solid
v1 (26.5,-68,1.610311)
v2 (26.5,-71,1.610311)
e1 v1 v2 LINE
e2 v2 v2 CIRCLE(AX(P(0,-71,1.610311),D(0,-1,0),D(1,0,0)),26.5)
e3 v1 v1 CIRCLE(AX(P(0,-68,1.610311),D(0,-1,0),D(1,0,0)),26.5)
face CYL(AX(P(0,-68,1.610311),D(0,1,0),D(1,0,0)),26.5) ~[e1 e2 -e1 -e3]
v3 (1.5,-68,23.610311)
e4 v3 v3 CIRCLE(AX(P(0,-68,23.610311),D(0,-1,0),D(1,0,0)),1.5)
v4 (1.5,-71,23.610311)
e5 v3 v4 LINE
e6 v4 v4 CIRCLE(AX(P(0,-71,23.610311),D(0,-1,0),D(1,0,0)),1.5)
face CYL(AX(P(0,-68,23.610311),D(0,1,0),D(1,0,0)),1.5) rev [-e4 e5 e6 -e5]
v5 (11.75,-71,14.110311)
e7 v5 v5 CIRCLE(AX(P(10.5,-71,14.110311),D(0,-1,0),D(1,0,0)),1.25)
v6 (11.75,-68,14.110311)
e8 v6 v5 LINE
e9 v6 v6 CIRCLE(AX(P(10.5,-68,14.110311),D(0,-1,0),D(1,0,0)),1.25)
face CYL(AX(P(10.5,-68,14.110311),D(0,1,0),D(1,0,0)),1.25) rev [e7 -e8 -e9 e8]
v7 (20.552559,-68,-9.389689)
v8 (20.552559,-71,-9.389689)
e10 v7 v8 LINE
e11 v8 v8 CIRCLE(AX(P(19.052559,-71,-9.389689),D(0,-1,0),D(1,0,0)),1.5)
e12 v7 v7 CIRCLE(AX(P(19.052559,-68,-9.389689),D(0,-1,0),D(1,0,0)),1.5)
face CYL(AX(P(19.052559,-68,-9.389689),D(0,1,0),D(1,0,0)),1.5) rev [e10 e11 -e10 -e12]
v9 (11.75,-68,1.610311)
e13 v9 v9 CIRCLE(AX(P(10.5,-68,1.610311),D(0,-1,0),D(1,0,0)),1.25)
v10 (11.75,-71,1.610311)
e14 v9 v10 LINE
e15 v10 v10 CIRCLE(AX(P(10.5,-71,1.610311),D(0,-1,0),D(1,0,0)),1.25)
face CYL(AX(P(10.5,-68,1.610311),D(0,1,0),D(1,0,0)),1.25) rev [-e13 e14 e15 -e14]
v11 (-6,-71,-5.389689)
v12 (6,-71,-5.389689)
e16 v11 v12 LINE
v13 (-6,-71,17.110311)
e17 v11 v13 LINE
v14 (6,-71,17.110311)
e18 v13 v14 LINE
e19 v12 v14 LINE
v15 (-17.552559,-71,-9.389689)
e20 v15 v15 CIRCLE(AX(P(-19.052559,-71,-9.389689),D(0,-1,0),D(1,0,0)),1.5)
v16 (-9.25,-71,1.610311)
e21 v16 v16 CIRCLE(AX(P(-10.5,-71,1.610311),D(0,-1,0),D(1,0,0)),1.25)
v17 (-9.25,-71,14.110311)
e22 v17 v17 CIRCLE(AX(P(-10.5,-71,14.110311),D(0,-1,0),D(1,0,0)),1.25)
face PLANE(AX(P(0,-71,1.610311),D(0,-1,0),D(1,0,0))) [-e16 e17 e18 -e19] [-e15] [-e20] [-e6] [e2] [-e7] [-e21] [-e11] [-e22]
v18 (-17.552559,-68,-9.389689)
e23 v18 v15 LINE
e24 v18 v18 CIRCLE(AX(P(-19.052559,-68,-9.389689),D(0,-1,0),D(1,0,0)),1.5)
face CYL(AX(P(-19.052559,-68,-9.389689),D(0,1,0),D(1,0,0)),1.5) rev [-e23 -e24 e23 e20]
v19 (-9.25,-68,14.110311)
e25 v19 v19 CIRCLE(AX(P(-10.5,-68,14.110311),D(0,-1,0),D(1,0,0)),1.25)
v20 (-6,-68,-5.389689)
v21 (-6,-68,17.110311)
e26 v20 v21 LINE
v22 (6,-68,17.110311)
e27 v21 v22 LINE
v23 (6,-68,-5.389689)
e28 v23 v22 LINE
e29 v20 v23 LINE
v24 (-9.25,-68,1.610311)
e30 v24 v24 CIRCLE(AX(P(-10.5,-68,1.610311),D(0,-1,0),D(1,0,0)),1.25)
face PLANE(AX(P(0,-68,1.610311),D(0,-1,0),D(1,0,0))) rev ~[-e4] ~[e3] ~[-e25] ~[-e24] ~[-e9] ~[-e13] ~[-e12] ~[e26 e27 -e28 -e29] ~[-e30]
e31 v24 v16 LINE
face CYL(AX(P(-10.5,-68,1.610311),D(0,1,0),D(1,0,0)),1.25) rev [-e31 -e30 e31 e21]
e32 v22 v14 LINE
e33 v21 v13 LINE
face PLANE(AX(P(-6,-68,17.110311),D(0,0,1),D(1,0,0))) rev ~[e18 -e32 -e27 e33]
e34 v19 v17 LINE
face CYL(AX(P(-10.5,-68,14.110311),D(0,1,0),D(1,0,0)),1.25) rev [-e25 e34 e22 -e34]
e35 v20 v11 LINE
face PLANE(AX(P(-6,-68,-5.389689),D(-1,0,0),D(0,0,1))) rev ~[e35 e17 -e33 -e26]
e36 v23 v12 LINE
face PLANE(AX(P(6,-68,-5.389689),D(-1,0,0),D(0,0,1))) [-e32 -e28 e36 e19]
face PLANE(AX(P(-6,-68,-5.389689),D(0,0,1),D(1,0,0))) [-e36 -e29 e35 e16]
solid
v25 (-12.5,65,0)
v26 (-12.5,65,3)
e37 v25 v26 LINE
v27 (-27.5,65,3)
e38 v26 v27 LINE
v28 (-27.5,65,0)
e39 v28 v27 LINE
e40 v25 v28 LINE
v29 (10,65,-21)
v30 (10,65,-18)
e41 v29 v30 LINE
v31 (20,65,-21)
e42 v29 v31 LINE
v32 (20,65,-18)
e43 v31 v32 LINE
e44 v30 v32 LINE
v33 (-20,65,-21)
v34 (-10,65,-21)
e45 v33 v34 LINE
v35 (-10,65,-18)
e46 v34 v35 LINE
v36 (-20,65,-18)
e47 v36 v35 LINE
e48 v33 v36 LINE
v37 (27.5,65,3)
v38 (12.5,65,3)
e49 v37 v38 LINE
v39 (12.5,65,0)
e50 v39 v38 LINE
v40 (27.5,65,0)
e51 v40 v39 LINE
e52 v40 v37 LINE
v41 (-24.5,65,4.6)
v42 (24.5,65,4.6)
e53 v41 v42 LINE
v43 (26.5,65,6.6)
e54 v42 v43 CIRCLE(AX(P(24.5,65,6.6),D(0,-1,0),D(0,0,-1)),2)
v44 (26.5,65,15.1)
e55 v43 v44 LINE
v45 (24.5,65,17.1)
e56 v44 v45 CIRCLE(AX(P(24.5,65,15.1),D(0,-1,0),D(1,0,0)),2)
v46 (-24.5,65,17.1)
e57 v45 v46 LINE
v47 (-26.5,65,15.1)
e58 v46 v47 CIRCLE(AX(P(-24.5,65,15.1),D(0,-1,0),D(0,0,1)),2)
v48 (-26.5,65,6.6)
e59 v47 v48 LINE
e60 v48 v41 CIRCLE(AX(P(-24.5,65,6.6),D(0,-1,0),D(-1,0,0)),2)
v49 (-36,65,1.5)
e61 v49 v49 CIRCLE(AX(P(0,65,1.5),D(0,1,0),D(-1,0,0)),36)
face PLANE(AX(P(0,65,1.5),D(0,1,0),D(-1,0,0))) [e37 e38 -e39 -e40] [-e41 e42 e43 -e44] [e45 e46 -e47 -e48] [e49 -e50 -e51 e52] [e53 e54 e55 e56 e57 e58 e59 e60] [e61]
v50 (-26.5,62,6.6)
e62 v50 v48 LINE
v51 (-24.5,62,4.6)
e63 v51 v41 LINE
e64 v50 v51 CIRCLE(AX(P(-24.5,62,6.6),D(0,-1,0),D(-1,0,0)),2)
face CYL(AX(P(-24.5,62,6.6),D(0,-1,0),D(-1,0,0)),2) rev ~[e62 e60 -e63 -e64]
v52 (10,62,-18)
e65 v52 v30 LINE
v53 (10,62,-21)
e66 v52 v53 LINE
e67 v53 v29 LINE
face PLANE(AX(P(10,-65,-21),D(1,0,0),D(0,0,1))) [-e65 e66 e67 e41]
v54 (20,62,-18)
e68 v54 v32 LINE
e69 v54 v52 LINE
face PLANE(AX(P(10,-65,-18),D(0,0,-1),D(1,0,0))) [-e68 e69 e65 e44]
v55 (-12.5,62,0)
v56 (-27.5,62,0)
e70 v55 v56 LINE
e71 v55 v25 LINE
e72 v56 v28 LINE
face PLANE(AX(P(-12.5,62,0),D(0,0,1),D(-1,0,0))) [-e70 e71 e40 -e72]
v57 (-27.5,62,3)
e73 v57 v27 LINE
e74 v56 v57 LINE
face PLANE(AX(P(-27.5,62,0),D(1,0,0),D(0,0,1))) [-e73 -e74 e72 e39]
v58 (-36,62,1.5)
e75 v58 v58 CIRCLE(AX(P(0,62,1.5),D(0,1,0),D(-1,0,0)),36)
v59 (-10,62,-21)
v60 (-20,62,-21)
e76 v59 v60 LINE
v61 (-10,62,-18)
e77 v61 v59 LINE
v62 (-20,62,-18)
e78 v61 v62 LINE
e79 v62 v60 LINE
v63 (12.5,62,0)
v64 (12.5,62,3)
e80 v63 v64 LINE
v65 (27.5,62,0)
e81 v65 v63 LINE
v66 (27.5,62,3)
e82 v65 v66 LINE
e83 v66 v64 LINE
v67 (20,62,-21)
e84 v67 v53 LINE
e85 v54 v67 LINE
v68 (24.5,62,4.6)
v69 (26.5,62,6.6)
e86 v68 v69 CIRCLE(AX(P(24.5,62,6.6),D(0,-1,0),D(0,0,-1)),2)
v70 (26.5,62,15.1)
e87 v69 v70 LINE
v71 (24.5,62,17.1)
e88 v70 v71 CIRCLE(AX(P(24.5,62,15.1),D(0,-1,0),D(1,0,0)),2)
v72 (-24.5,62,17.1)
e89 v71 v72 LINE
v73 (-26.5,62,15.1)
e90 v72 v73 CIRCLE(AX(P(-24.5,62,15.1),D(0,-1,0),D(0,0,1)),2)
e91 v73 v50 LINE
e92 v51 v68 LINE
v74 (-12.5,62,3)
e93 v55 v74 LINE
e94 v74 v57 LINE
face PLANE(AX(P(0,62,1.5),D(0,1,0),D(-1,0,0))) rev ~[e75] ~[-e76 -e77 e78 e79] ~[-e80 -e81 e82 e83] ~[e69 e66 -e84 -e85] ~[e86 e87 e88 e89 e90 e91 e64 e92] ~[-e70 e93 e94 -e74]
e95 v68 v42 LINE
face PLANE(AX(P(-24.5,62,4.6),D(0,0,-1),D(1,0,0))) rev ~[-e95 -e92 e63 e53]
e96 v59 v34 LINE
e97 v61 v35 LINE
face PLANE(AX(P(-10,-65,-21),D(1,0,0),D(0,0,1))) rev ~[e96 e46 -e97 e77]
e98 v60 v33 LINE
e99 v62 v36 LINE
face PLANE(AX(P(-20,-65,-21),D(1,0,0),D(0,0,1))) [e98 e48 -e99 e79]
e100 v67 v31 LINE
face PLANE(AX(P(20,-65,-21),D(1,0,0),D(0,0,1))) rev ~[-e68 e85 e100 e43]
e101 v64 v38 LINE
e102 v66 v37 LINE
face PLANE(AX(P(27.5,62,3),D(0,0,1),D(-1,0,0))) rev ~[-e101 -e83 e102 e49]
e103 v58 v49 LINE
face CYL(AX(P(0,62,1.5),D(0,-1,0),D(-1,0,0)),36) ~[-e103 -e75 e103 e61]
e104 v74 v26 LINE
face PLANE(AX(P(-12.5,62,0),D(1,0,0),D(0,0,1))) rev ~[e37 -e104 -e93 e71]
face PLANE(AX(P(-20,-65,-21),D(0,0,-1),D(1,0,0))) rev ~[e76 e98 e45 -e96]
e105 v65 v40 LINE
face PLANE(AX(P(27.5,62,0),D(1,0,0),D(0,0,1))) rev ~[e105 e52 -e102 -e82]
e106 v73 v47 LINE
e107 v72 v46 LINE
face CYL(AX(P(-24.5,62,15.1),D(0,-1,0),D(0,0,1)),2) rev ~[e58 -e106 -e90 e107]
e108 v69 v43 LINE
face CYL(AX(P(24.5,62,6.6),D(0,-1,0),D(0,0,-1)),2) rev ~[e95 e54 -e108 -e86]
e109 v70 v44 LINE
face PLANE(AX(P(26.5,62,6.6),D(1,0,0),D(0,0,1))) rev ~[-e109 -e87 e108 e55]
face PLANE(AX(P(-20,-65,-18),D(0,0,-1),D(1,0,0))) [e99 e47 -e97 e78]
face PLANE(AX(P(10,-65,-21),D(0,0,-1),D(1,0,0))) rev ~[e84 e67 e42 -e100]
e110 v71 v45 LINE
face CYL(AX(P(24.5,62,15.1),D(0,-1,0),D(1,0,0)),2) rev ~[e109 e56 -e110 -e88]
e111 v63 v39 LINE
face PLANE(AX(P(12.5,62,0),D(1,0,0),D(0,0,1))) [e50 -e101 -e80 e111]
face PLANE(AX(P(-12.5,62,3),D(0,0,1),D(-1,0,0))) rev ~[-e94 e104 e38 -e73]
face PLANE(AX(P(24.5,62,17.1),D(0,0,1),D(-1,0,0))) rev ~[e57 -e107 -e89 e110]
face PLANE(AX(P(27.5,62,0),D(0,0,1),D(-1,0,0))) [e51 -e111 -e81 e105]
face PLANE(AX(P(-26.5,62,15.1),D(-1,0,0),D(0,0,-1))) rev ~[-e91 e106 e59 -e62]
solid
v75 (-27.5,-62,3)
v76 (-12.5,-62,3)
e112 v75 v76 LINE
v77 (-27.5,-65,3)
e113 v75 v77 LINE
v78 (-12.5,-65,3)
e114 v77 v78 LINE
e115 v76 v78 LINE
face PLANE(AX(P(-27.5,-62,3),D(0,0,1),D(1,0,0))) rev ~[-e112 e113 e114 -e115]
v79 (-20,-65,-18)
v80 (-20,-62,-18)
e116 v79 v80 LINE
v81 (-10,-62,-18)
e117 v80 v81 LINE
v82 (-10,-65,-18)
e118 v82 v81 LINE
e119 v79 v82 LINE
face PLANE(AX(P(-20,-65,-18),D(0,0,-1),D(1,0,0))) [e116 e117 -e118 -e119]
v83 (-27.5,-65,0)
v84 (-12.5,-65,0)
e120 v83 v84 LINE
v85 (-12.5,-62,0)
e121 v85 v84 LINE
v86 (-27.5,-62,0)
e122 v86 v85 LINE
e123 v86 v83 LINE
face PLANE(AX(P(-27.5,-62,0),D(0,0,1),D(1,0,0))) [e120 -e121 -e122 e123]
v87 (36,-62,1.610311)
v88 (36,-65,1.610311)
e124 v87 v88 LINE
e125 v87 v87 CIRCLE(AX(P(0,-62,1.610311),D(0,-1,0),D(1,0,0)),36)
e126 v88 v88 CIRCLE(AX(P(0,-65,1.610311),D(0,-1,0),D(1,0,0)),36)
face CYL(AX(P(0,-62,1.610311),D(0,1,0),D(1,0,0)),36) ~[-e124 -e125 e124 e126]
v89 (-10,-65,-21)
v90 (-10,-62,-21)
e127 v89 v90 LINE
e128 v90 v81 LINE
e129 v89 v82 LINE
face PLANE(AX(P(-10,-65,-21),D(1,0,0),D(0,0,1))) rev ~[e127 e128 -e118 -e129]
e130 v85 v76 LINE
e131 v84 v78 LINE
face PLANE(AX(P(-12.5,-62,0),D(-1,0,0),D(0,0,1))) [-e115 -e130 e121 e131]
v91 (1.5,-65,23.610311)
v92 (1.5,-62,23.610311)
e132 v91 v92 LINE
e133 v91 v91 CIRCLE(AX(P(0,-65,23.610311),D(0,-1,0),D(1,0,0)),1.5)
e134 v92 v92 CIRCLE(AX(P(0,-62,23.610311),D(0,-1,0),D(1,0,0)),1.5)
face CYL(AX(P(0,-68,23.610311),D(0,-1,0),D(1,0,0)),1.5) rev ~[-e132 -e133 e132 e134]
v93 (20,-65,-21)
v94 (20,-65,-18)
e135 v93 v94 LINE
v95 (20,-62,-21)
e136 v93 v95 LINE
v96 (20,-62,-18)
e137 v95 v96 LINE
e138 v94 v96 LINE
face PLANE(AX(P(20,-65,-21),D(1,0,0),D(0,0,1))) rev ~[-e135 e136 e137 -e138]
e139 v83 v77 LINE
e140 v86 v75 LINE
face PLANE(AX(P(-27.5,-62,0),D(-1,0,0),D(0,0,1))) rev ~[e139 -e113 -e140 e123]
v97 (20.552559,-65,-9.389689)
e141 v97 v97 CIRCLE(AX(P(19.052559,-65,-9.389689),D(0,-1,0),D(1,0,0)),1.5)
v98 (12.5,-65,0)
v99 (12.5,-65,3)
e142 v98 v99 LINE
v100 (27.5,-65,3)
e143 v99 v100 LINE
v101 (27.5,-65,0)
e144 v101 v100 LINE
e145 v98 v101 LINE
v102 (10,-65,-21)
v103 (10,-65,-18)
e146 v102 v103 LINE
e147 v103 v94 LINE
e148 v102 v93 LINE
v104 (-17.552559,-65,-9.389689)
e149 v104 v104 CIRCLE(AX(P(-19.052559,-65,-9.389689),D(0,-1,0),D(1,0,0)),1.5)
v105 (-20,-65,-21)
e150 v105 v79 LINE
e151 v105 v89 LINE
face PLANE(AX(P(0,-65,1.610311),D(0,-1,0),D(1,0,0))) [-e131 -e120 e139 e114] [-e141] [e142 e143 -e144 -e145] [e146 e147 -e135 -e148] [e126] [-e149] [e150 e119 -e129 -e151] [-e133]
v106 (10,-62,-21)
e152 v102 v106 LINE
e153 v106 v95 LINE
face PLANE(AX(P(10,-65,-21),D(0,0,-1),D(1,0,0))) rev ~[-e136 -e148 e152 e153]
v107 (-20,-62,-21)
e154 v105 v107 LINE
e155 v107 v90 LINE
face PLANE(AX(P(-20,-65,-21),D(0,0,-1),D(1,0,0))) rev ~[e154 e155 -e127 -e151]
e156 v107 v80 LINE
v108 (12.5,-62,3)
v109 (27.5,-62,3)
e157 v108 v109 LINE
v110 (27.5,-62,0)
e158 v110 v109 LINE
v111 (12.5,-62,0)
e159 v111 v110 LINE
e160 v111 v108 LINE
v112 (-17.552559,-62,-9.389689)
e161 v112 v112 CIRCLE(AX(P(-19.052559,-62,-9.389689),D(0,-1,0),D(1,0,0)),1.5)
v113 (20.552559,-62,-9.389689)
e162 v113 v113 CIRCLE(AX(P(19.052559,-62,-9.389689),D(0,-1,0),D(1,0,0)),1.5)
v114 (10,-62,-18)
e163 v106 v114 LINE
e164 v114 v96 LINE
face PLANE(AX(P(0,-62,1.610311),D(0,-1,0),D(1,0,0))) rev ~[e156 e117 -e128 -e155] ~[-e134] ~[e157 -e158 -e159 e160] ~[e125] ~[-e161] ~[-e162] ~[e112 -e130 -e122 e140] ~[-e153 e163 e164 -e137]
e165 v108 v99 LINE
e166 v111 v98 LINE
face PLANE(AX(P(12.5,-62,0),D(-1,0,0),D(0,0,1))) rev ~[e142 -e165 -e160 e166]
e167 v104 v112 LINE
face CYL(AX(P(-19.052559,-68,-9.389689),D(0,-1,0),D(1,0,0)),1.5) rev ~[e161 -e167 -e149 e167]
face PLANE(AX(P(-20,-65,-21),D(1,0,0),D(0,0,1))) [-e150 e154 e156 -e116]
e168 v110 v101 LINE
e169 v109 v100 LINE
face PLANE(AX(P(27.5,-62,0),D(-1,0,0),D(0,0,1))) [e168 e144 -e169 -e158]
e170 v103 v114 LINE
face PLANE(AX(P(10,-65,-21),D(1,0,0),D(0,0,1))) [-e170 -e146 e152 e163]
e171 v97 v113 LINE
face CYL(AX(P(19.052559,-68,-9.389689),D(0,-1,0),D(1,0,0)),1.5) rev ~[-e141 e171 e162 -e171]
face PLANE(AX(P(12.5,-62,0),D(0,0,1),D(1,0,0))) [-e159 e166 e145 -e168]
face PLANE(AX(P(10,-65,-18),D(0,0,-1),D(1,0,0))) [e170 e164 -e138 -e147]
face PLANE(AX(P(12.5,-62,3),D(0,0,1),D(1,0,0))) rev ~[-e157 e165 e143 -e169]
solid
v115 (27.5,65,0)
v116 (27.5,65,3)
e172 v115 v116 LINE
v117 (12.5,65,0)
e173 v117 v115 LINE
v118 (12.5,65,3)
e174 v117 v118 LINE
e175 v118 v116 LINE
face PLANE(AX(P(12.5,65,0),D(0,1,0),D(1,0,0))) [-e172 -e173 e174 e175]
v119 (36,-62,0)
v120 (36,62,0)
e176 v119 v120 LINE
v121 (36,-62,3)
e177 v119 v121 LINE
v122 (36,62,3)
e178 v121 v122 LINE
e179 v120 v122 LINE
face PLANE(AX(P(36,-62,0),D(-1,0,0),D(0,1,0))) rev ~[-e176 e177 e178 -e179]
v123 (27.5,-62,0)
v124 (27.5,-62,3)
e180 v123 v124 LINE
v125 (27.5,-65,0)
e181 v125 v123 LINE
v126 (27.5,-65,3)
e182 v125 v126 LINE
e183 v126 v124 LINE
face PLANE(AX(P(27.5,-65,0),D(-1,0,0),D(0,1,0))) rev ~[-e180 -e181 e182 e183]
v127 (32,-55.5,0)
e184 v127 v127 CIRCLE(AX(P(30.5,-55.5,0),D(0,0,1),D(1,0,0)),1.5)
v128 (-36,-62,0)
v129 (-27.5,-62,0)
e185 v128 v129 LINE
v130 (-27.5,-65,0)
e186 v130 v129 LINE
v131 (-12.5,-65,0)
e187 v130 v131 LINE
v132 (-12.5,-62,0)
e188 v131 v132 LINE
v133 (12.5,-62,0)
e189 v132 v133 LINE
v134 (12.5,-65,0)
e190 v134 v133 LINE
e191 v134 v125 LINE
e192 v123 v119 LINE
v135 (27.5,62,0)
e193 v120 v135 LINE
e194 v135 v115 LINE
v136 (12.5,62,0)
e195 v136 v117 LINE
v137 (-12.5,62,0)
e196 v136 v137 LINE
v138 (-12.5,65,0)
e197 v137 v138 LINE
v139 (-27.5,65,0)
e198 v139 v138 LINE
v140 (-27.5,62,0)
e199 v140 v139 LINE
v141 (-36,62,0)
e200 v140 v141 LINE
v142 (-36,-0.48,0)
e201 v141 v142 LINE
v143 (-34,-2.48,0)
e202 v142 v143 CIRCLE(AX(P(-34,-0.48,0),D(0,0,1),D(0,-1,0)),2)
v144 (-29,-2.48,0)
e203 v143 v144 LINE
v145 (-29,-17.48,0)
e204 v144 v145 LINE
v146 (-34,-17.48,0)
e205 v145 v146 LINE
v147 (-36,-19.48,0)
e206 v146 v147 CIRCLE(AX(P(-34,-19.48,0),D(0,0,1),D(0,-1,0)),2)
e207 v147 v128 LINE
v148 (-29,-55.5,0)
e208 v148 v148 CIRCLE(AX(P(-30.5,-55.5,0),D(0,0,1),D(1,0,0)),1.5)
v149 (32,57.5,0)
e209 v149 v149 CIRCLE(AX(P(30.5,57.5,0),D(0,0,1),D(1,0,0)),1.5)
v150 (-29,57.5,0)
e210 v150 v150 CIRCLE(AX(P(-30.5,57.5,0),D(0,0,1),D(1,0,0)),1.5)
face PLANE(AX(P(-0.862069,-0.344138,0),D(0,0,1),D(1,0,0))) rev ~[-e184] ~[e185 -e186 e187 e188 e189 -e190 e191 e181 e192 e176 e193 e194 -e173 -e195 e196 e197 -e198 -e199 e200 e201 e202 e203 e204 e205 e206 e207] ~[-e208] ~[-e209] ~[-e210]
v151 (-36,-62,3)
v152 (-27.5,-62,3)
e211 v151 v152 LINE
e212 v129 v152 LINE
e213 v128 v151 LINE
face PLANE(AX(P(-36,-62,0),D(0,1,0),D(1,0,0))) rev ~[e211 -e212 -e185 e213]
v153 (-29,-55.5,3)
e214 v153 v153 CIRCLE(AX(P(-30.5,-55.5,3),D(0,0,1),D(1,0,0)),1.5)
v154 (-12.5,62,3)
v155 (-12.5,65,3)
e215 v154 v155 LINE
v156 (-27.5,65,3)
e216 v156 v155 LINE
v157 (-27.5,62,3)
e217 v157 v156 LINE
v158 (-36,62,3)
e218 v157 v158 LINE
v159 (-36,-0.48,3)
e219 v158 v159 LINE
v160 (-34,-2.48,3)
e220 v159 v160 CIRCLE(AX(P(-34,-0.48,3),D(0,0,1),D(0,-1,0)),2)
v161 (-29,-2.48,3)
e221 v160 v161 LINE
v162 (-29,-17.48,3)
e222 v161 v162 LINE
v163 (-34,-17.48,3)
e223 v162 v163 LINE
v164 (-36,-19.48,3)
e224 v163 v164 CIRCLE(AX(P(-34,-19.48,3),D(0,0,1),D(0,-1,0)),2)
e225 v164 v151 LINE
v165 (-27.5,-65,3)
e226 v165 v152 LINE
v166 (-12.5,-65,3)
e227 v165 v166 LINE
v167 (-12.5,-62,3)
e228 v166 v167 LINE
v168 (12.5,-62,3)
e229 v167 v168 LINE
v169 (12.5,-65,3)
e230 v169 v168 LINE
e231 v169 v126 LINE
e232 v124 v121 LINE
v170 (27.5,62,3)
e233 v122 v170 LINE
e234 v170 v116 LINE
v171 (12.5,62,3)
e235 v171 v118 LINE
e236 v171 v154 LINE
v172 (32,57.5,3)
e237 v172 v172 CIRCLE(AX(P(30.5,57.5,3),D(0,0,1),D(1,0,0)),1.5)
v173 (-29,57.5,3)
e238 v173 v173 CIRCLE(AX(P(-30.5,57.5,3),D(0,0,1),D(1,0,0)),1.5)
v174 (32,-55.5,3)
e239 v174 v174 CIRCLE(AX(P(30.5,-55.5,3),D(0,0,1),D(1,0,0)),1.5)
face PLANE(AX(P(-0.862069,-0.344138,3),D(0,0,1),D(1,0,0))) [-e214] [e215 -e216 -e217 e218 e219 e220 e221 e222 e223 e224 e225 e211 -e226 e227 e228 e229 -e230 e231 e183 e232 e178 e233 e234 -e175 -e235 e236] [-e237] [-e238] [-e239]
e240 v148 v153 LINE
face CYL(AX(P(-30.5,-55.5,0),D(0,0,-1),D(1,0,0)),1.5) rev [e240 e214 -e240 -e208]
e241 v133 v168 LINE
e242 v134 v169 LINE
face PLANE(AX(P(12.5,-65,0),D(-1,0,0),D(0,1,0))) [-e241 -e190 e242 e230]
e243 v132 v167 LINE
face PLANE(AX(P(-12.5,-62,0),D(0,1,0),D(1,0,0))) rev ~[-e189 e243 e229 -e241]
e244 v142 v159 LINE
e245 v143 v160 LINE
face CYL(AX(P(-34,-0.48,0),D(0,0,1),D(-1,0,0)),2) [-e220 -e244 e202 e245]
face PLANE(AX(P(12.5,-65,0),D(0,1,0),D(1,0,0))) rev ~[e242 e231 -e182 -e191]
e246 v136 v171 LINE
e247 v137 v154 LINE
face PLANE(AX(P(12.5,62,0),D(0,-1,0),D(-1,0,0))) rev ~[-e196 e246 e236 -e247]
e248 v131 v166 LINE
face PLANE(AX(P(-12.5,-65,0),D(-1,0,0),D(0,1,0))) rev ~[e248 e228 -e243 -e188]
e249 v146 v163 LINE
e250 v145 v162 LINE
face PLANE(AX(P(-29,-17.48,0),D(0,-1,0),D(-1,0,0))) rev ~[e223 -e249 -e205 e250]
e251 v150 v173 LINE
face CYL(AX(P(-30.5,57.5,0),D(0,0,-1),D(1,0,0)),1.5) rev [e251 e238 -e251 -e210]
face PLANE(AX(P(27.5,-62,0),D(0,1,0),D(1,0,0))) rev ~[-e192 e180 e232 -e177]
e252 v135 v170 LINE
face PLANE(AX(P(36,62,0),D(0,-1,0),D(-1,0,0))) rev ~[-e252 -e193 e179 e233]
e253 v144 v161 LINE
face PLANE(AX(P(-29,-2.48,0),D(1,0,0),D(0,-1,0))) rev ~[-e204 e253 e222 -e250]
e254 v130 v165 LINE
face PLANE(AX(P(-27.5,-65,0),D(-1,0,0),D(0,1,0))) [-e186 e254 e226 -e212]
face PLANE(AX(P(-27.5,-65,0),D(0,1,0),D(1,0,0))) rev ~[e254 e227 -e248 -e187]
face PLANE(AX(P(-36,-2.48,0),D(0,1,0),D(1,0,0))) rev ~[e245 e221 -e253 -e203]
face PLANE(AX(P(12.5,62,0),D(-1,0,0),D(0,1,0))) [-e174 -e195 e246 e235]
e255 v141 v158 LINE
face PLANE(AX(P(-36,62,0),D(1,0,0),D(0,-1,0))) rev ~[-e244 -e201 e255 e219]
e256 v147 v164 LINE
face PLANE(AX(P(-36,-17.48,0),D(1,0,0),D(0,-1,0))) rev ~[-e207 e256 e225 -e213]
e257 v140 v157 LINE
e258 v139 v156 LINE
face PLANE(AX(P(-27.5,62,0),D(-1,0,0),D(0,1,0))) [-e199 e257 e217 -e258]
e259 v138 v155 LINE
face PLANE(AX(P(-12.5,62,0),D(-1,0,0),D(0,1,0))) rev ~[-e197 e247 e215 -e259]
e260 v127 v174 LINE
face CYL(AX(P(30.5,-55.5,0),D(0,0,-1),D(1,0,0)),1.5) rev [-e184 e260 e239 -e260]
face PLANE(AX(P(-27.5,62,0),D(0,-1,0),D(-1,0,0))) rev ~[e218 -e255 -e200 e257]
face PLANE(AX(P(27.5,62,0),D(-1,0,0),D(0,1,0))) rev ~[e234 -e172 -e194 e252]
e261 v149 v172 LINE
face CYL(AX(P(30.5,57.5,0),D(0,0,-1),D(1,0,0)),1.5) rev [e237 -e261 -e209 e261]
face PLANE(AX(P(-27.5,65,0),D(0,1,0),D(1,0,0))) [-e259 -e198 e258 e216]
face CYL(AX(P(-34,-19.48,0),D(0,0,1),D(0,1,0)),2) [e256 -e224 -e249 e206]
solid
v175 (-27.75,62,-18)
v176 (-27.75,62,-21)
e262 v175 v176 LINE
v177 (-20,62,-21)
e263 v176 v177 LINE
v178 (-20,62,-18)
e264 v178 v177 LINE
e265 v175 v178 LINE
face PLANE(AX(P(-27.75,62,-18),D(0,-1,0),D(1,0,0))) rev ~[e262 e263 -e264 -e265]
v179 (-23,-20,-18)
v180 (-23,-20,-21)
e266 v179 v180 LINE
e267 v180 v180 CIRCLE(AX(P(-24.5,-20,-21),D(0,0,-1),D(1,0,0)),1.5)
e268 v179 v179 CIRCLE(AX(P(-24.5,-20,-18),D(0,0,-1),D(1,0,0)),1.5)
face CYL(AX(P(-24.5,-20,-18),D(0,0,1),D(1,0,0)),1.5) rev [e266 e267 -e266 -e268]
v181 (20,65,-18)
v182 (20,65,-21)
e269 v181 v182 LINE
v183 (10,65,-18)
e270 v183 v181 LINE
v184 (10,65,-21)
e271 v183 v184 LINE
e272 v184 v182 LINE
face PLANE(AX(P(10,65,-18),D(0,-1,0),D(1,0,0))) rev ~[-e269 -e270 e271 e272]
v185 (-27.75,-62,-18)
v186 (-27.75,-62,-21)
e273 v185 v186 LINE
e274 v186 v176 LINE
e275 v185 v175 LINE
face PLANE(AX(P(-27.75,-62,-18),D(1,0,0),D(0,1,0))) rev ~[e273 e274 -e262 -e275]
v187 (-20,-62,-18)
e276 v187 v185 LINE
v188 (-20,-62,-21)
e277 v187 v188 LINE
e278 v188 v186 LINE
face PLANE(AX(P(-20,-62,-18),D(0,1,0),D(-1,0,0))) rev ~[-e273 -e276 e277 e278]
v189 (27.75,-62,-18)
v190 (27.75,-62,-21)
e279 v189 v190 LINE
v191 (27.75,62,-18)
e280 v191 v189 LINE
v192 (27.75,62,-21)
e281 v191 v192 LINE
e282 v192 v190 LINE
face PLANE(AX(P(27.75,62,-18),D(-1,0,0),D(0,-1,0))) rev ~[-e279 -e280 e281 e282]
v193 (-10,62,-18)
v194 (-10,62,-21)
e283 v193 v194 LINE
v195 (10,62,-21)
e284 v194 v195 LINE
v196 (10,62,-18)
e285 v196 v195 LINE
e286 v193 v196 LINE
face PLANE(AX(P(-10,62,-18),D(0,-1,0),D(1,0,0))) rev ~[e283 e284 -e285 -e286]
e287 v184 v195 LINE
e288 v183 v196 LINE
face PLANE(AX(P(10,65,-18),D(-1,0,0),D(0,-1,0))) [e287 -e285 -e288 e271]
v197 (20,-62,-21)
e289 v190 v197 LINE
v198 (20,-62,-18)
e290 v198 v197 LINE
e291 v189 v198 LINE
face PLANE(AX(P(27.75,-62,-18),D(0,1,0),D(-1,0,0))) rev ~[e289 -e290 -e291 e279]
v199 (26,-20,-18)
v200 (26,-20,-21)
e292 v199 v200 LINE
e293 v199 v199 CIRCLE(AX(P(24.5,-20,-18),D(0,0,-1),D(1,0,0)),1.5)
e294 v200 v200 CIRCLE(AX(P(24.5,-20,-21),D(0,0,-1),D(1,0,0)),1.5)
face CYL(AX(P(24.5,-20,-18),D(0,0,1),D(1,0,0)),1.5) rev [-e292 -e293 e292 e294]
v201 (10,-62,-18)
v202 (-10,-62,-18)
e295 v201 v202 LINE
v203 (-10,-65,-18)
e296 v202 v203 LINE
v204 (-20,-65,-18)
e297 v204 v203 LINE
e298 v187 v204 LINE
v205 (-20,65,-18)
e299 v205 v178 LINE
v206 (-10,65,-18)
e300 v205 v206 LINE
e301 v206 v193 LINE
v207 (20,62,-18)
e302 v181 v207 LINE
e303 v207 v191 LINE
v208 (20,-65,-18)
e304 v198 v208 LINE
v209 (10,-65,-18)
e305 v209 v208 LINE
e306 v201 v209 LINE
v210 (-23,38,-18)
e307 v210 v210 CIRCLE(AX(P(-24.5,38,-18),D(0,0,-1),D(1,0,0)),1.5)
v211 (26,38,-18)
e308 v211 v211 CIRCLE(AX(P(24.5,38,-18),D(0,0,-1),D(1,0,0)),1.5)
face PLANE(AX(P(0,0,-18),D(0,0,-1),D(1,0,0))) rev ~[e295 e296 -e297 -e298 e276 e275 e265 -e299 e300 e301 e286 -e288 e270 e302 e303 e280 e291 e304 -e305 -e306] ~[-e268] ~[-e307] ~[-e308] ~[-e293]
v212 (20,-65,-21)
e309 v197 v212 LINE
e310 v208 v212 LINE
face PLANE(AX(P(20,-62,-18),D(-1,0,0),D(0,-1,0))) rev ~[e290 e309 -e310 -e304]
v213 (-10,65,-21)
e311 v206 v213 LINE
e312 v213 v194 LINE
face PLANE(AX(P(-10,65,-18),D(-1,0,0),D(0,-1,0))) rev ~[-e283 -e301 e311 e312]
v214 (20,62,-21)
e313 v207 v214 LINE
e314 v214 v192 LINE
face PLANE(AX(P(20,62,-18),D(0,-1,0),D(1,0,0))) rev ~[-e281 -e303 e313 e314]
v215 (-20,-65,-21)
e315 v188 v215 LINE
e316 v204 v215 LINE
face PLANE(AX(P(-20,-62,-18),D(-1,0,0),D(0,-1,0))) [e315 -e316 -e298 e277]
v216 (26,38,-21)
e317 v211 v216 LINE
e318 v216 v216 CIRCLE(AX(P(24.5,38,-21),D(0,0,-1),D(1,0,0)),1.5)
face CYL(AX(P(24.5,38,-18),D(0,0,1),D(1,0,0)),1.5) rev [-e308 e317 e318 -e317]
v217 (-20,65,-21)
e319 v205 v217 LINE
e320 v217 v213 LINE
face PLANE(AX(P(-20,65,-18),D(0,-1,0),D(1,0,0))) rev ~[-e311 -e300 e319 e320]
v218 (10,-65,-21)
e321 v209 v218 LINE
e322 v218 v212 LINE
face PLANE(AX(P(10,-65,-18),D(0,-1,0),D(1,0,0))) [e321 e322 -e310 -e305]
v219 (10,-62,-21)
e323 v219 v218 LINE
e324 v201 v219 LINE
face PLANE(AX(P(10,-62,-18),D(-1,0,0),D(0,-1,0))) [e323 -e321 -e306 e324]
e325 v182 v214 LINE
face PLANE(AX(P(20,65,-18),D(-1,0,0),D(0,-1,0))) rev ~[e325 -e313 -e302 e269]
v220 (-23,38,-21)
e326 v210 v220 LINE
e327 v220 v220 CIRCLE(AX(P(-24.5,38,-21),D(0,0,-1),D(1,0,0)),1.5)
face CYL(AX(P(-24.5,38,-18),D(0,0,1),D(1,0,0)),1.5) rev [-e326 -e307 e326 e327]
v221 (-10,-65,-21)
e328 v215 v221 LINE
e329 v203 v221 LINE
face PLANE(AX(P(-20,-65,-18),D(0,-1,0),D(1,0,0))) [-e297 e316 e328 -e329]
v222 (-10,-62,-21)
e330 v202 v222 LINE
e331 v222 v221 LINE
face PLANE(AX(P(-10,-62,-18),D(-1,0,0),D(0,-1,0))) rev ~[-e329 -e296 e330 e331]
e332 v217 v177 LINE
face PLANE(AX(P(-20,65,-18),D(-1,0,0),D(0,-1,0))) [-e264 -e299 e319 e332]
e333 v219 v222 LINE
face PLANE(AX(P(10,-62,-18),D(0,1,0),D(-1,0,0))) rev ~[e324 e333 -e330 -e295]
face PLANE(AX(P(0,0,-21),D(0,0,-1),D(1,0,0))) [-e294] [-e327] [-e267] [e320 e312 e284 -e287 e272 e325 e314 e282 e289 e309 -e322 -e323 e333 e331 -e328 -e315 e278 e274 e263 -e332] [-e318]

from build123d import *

# Parameters (mm, degrees)
F0_R      = 1.5
F0_W      = 15
F0_H      = 3
F1_DEPTH  = 3
F2_R      = 2
F3_R      = 36
F3_W      = 15
F3_H      = 3
F4_DEPTH  = 3
F5_R      = 36
F5_W      = 15
F5_H      = 3
F6_DEPTH  = 3
F8_R      = 1.5
F8_W      = 10
F8_H      = 3
F9_DEPTH  = 3
F10_W     = 10
F10_H     = 3
F11_DEPTH = 130
F13_R     = 26.5
F13_R_2   = 1.5
F13_R_3   = 1.25
F13_W     = 12
F13_H     = 22.5
F14_DEPTH = 3
F15_DEPTH = 25


with BuildPart() as f1:
    # F0 (on Top) → F1 (new body)
    with BuildSketch(Plane.XY):
        Polygon((-27.5, 62), (-36, 62), (-36, -2.48), (-29, -2.48), (-29, -17.48), (-36, -17.48), (-36, -62), (-27.5, -62), (-12.5, -62), (12.5, -62), (27.5, -62), (36, -62), (36, 62), (27.5, 62), (12.5, 62), (-12.5, 62), align=None)
        with Locations((-30.5, -55.5)):
            Circle(F0_R, mode=Mode.SUBTRACT)
        with Locations((30.5, -55.5)):
            Circle(F0_R, mode=Mode.SUBTRACT)
        with Locations((-30.5, 57.5)):
            Circle(F0_R, mode=Mode.SUBTRACT)
        with Locations((30.5, 57.5)):
            Circle(F0_R, mode=Mode.SUBTRACT)
        with Locations((20, 63.5)):
            Rectangle(F0_W, F0_H)
        with Locations((-20, 63.5)):
            Rectangle(F0_W, F0_H)
        with Locations((20, -63.5)):
            Rectangle(F0_W, F0_H)
        with Locations((-20, -63.5)):
            Rectangle(F0_W, F0_H)
    extrude(amount=F1_DEPTH)

    # F2
    f2_edges = [f1.edges().sort_by_distance(p)[0] for p in [
        (-36, -2.48, 1.5),
        (-36, -17.48, 1.5),
    ]]
    fillet(f2_edges, radius=F2_R)


with BuildPart() as f4:
    # F3 (on face) → F4 (new body)
    with BuildSketch(Plane.XZ.offset(62)):
        with Locations((0, 1.6103106318)):
            Circle(F3_R)
        with Locations((-20, 1.5)):
            Rectangle(F3_W, F3_H, mode=Mode.SUBTRACT)
        with Locations((20, 1.5)):
            Rectangle(F3_W, F3_H, mode=Mode.SUBTRACT)
    extrude(amount=F4_DEPTH)


with BuildPart() as f6:
    # F5 (on face) → F6 (new body)
    with BuildSketch(Plane(origin=(0, 62, 0), x_dir=(-1, 0, 0), z_dir=(0, 1, 0))):
        with Locations((0, 1.5)):
            Circle(F5_R)
        with Locations((-20, 1.5)):
            Rectangle(F5_W, F5_H, mode=Mode.SUBTRACT)
        with BuildLine():
            ThreePointArc((-26.5, 15.1), (-25.9142135624, 16.5142135624), (-24.5, 17.1))
            Line((-24.5, 17.1), (24.5, 17.1))
            ThreePointArc((24.5, 17.1), (25.9142135624, 16.5142135624), (26.5, 15.1))
            Line((26.5, 15.1), (26.5, 6.6))
            ThreePointArc((26.5, 6.6), (25.9142135624, 5.1857864376), (24.5, 4.6))
            Line((24.5, 4.6), (-24.5, 4.6))
            ThreePointArc((-24.5, 4.6), (-25.9142135624, 5.1857864376), (-26.5, 6.6))
            Line((-26.5, 6.6), (-26.5, 15.1))
        make_face(mode=Mode.SUBTRACT)
        with Locations((20, 1.5)):
            Rectangle(F5_W, F5_H, mode=Mode.SUBTRACT)
    extrude(amount=F6_DEPTH)


with BuildPart() as f9:
    # F8 (on offset) → F9 (new body)
    with BuildSketch(Plane(origin=(0, 0, -18), x_dir=(1, 0, 0), z_dir=(0, 0, -1))):
        Polygon((-20, 62), (-27.75, 62), (-27.75, -62), (-20, -62), (-10, -62), (10, -62), (20, -62), (27.75, -62), (27.75, 62), (20, 62), (10, 62), (-10, 62), align=None)
        with Locations((-24.5, -38)):
            Circle(F8_R, mode=Mode.SUBTRACT)
        with Locations((24.5, -38)):
            Circle(F8_R, mode=Mode.SUBTRACT)
        with Locations((-24.5, 20)):
            Circle(F8_R, mode=Mode.SUBTRACT)
        with Locations((24.5, 20)):
            Circle(F8_R, mode=Mode.SUBTRACT)
        with Locations((-15, 63.5)):
            Rectangle(F8_W, F8_H)
        with Locations((-15, -63.5)):
            Rectangle(F8_W, F8_H)
        with Locations((15, 63.5)):
            Rectangle(F8_W, F8_H)
        with Locations((15, -63.5)):
            Rectangle(F8_W, F8_H)
    extrude(amount=F9_DEPTH)


with BuildPart() as f11_tool:
    # F10 (on face) → F11 (new body, through all)
    with BuildSketch(Plane.XZ.offset(65)):
        with Locations((-15, -19.5)):
            Rectangle(F10_W, F10_H)
        with Locations((15, -19.5)):
            Rectangle(F10_W, F10_H)
    extrude(amount=-F11_DEPTH)


with BuildPart() as f4_1:
    add(f4.part)

    # F11: cut by f11_tool
    add(f11_tool.part, mode=Mode.SUBTRACT)

    # F13 (on offset) → F15 (cut)
    with BuildSketch(Plane.XZ.offset(68)):
        with Locations((0, 23.6103106318)):
            Circle(F13_R_2)
        with Locations((-19.0525588833, -9.3896893682)):
            Circle(F13_R_2)
        with Locations((19.0525588833, -9.3896893682)):
            Circle(F13_R_2)
    extrude(amount=-F15_DEPTH, mode=Mode.SUBTRACT)


with BuildPart() as f6_1:
    add(f6.part)

    # F11: cut by f11_tool
    add(f11_tool.part, mode=Mode.SUBTRACT)


with BuildPart() as f14:
    # F13 (on offset) → F14 (new body)
    with BuildSketch(Plane.XZ.offset(68)):
        with Locations((0, 1.6103106318)):
            Circle(F13_R)
        with Locations((-19.0525588833, -9.3896893682)):
            Circle(F13_R_2, mode=Mode.SUBTRACT)
        with Locations((-10.5, 1.6103106318)):
            Circle(F13_R_3, mode=Mode.SUBTRACT)
        with Locations((19.0525588833, -9.3896893682)):
            Circle(F13_R_2, mode=Mode.SUBTRACT)
        with Locations((-10.5, 14.1103106318)):
            Circle(F13_R_3, mode=Mode.SUBTRACT)
        with Locations((0, 5.8603106318)):
            Rectangle(F13_W, F13_H, mode=Mode.SUBTRACT)
        with Locations((10.5, 1.6103106318)):
            Circle(F13_R_3, mode=Mode.SUBTRACT)
        with Locations((10.5, 14.1103106318)):
            Circle(F13_R_3, mode=Mode.SUBTRACT)
        with Locations((0, 23.6103106318)):
            Circle(F13_R_2, mode=Mode.SUBTRACT)
    extrude(amount=F14_DEPTH)


solid = Compound([f1.part, f9.part, f4_1.part, f6_1.part, f14.part])
